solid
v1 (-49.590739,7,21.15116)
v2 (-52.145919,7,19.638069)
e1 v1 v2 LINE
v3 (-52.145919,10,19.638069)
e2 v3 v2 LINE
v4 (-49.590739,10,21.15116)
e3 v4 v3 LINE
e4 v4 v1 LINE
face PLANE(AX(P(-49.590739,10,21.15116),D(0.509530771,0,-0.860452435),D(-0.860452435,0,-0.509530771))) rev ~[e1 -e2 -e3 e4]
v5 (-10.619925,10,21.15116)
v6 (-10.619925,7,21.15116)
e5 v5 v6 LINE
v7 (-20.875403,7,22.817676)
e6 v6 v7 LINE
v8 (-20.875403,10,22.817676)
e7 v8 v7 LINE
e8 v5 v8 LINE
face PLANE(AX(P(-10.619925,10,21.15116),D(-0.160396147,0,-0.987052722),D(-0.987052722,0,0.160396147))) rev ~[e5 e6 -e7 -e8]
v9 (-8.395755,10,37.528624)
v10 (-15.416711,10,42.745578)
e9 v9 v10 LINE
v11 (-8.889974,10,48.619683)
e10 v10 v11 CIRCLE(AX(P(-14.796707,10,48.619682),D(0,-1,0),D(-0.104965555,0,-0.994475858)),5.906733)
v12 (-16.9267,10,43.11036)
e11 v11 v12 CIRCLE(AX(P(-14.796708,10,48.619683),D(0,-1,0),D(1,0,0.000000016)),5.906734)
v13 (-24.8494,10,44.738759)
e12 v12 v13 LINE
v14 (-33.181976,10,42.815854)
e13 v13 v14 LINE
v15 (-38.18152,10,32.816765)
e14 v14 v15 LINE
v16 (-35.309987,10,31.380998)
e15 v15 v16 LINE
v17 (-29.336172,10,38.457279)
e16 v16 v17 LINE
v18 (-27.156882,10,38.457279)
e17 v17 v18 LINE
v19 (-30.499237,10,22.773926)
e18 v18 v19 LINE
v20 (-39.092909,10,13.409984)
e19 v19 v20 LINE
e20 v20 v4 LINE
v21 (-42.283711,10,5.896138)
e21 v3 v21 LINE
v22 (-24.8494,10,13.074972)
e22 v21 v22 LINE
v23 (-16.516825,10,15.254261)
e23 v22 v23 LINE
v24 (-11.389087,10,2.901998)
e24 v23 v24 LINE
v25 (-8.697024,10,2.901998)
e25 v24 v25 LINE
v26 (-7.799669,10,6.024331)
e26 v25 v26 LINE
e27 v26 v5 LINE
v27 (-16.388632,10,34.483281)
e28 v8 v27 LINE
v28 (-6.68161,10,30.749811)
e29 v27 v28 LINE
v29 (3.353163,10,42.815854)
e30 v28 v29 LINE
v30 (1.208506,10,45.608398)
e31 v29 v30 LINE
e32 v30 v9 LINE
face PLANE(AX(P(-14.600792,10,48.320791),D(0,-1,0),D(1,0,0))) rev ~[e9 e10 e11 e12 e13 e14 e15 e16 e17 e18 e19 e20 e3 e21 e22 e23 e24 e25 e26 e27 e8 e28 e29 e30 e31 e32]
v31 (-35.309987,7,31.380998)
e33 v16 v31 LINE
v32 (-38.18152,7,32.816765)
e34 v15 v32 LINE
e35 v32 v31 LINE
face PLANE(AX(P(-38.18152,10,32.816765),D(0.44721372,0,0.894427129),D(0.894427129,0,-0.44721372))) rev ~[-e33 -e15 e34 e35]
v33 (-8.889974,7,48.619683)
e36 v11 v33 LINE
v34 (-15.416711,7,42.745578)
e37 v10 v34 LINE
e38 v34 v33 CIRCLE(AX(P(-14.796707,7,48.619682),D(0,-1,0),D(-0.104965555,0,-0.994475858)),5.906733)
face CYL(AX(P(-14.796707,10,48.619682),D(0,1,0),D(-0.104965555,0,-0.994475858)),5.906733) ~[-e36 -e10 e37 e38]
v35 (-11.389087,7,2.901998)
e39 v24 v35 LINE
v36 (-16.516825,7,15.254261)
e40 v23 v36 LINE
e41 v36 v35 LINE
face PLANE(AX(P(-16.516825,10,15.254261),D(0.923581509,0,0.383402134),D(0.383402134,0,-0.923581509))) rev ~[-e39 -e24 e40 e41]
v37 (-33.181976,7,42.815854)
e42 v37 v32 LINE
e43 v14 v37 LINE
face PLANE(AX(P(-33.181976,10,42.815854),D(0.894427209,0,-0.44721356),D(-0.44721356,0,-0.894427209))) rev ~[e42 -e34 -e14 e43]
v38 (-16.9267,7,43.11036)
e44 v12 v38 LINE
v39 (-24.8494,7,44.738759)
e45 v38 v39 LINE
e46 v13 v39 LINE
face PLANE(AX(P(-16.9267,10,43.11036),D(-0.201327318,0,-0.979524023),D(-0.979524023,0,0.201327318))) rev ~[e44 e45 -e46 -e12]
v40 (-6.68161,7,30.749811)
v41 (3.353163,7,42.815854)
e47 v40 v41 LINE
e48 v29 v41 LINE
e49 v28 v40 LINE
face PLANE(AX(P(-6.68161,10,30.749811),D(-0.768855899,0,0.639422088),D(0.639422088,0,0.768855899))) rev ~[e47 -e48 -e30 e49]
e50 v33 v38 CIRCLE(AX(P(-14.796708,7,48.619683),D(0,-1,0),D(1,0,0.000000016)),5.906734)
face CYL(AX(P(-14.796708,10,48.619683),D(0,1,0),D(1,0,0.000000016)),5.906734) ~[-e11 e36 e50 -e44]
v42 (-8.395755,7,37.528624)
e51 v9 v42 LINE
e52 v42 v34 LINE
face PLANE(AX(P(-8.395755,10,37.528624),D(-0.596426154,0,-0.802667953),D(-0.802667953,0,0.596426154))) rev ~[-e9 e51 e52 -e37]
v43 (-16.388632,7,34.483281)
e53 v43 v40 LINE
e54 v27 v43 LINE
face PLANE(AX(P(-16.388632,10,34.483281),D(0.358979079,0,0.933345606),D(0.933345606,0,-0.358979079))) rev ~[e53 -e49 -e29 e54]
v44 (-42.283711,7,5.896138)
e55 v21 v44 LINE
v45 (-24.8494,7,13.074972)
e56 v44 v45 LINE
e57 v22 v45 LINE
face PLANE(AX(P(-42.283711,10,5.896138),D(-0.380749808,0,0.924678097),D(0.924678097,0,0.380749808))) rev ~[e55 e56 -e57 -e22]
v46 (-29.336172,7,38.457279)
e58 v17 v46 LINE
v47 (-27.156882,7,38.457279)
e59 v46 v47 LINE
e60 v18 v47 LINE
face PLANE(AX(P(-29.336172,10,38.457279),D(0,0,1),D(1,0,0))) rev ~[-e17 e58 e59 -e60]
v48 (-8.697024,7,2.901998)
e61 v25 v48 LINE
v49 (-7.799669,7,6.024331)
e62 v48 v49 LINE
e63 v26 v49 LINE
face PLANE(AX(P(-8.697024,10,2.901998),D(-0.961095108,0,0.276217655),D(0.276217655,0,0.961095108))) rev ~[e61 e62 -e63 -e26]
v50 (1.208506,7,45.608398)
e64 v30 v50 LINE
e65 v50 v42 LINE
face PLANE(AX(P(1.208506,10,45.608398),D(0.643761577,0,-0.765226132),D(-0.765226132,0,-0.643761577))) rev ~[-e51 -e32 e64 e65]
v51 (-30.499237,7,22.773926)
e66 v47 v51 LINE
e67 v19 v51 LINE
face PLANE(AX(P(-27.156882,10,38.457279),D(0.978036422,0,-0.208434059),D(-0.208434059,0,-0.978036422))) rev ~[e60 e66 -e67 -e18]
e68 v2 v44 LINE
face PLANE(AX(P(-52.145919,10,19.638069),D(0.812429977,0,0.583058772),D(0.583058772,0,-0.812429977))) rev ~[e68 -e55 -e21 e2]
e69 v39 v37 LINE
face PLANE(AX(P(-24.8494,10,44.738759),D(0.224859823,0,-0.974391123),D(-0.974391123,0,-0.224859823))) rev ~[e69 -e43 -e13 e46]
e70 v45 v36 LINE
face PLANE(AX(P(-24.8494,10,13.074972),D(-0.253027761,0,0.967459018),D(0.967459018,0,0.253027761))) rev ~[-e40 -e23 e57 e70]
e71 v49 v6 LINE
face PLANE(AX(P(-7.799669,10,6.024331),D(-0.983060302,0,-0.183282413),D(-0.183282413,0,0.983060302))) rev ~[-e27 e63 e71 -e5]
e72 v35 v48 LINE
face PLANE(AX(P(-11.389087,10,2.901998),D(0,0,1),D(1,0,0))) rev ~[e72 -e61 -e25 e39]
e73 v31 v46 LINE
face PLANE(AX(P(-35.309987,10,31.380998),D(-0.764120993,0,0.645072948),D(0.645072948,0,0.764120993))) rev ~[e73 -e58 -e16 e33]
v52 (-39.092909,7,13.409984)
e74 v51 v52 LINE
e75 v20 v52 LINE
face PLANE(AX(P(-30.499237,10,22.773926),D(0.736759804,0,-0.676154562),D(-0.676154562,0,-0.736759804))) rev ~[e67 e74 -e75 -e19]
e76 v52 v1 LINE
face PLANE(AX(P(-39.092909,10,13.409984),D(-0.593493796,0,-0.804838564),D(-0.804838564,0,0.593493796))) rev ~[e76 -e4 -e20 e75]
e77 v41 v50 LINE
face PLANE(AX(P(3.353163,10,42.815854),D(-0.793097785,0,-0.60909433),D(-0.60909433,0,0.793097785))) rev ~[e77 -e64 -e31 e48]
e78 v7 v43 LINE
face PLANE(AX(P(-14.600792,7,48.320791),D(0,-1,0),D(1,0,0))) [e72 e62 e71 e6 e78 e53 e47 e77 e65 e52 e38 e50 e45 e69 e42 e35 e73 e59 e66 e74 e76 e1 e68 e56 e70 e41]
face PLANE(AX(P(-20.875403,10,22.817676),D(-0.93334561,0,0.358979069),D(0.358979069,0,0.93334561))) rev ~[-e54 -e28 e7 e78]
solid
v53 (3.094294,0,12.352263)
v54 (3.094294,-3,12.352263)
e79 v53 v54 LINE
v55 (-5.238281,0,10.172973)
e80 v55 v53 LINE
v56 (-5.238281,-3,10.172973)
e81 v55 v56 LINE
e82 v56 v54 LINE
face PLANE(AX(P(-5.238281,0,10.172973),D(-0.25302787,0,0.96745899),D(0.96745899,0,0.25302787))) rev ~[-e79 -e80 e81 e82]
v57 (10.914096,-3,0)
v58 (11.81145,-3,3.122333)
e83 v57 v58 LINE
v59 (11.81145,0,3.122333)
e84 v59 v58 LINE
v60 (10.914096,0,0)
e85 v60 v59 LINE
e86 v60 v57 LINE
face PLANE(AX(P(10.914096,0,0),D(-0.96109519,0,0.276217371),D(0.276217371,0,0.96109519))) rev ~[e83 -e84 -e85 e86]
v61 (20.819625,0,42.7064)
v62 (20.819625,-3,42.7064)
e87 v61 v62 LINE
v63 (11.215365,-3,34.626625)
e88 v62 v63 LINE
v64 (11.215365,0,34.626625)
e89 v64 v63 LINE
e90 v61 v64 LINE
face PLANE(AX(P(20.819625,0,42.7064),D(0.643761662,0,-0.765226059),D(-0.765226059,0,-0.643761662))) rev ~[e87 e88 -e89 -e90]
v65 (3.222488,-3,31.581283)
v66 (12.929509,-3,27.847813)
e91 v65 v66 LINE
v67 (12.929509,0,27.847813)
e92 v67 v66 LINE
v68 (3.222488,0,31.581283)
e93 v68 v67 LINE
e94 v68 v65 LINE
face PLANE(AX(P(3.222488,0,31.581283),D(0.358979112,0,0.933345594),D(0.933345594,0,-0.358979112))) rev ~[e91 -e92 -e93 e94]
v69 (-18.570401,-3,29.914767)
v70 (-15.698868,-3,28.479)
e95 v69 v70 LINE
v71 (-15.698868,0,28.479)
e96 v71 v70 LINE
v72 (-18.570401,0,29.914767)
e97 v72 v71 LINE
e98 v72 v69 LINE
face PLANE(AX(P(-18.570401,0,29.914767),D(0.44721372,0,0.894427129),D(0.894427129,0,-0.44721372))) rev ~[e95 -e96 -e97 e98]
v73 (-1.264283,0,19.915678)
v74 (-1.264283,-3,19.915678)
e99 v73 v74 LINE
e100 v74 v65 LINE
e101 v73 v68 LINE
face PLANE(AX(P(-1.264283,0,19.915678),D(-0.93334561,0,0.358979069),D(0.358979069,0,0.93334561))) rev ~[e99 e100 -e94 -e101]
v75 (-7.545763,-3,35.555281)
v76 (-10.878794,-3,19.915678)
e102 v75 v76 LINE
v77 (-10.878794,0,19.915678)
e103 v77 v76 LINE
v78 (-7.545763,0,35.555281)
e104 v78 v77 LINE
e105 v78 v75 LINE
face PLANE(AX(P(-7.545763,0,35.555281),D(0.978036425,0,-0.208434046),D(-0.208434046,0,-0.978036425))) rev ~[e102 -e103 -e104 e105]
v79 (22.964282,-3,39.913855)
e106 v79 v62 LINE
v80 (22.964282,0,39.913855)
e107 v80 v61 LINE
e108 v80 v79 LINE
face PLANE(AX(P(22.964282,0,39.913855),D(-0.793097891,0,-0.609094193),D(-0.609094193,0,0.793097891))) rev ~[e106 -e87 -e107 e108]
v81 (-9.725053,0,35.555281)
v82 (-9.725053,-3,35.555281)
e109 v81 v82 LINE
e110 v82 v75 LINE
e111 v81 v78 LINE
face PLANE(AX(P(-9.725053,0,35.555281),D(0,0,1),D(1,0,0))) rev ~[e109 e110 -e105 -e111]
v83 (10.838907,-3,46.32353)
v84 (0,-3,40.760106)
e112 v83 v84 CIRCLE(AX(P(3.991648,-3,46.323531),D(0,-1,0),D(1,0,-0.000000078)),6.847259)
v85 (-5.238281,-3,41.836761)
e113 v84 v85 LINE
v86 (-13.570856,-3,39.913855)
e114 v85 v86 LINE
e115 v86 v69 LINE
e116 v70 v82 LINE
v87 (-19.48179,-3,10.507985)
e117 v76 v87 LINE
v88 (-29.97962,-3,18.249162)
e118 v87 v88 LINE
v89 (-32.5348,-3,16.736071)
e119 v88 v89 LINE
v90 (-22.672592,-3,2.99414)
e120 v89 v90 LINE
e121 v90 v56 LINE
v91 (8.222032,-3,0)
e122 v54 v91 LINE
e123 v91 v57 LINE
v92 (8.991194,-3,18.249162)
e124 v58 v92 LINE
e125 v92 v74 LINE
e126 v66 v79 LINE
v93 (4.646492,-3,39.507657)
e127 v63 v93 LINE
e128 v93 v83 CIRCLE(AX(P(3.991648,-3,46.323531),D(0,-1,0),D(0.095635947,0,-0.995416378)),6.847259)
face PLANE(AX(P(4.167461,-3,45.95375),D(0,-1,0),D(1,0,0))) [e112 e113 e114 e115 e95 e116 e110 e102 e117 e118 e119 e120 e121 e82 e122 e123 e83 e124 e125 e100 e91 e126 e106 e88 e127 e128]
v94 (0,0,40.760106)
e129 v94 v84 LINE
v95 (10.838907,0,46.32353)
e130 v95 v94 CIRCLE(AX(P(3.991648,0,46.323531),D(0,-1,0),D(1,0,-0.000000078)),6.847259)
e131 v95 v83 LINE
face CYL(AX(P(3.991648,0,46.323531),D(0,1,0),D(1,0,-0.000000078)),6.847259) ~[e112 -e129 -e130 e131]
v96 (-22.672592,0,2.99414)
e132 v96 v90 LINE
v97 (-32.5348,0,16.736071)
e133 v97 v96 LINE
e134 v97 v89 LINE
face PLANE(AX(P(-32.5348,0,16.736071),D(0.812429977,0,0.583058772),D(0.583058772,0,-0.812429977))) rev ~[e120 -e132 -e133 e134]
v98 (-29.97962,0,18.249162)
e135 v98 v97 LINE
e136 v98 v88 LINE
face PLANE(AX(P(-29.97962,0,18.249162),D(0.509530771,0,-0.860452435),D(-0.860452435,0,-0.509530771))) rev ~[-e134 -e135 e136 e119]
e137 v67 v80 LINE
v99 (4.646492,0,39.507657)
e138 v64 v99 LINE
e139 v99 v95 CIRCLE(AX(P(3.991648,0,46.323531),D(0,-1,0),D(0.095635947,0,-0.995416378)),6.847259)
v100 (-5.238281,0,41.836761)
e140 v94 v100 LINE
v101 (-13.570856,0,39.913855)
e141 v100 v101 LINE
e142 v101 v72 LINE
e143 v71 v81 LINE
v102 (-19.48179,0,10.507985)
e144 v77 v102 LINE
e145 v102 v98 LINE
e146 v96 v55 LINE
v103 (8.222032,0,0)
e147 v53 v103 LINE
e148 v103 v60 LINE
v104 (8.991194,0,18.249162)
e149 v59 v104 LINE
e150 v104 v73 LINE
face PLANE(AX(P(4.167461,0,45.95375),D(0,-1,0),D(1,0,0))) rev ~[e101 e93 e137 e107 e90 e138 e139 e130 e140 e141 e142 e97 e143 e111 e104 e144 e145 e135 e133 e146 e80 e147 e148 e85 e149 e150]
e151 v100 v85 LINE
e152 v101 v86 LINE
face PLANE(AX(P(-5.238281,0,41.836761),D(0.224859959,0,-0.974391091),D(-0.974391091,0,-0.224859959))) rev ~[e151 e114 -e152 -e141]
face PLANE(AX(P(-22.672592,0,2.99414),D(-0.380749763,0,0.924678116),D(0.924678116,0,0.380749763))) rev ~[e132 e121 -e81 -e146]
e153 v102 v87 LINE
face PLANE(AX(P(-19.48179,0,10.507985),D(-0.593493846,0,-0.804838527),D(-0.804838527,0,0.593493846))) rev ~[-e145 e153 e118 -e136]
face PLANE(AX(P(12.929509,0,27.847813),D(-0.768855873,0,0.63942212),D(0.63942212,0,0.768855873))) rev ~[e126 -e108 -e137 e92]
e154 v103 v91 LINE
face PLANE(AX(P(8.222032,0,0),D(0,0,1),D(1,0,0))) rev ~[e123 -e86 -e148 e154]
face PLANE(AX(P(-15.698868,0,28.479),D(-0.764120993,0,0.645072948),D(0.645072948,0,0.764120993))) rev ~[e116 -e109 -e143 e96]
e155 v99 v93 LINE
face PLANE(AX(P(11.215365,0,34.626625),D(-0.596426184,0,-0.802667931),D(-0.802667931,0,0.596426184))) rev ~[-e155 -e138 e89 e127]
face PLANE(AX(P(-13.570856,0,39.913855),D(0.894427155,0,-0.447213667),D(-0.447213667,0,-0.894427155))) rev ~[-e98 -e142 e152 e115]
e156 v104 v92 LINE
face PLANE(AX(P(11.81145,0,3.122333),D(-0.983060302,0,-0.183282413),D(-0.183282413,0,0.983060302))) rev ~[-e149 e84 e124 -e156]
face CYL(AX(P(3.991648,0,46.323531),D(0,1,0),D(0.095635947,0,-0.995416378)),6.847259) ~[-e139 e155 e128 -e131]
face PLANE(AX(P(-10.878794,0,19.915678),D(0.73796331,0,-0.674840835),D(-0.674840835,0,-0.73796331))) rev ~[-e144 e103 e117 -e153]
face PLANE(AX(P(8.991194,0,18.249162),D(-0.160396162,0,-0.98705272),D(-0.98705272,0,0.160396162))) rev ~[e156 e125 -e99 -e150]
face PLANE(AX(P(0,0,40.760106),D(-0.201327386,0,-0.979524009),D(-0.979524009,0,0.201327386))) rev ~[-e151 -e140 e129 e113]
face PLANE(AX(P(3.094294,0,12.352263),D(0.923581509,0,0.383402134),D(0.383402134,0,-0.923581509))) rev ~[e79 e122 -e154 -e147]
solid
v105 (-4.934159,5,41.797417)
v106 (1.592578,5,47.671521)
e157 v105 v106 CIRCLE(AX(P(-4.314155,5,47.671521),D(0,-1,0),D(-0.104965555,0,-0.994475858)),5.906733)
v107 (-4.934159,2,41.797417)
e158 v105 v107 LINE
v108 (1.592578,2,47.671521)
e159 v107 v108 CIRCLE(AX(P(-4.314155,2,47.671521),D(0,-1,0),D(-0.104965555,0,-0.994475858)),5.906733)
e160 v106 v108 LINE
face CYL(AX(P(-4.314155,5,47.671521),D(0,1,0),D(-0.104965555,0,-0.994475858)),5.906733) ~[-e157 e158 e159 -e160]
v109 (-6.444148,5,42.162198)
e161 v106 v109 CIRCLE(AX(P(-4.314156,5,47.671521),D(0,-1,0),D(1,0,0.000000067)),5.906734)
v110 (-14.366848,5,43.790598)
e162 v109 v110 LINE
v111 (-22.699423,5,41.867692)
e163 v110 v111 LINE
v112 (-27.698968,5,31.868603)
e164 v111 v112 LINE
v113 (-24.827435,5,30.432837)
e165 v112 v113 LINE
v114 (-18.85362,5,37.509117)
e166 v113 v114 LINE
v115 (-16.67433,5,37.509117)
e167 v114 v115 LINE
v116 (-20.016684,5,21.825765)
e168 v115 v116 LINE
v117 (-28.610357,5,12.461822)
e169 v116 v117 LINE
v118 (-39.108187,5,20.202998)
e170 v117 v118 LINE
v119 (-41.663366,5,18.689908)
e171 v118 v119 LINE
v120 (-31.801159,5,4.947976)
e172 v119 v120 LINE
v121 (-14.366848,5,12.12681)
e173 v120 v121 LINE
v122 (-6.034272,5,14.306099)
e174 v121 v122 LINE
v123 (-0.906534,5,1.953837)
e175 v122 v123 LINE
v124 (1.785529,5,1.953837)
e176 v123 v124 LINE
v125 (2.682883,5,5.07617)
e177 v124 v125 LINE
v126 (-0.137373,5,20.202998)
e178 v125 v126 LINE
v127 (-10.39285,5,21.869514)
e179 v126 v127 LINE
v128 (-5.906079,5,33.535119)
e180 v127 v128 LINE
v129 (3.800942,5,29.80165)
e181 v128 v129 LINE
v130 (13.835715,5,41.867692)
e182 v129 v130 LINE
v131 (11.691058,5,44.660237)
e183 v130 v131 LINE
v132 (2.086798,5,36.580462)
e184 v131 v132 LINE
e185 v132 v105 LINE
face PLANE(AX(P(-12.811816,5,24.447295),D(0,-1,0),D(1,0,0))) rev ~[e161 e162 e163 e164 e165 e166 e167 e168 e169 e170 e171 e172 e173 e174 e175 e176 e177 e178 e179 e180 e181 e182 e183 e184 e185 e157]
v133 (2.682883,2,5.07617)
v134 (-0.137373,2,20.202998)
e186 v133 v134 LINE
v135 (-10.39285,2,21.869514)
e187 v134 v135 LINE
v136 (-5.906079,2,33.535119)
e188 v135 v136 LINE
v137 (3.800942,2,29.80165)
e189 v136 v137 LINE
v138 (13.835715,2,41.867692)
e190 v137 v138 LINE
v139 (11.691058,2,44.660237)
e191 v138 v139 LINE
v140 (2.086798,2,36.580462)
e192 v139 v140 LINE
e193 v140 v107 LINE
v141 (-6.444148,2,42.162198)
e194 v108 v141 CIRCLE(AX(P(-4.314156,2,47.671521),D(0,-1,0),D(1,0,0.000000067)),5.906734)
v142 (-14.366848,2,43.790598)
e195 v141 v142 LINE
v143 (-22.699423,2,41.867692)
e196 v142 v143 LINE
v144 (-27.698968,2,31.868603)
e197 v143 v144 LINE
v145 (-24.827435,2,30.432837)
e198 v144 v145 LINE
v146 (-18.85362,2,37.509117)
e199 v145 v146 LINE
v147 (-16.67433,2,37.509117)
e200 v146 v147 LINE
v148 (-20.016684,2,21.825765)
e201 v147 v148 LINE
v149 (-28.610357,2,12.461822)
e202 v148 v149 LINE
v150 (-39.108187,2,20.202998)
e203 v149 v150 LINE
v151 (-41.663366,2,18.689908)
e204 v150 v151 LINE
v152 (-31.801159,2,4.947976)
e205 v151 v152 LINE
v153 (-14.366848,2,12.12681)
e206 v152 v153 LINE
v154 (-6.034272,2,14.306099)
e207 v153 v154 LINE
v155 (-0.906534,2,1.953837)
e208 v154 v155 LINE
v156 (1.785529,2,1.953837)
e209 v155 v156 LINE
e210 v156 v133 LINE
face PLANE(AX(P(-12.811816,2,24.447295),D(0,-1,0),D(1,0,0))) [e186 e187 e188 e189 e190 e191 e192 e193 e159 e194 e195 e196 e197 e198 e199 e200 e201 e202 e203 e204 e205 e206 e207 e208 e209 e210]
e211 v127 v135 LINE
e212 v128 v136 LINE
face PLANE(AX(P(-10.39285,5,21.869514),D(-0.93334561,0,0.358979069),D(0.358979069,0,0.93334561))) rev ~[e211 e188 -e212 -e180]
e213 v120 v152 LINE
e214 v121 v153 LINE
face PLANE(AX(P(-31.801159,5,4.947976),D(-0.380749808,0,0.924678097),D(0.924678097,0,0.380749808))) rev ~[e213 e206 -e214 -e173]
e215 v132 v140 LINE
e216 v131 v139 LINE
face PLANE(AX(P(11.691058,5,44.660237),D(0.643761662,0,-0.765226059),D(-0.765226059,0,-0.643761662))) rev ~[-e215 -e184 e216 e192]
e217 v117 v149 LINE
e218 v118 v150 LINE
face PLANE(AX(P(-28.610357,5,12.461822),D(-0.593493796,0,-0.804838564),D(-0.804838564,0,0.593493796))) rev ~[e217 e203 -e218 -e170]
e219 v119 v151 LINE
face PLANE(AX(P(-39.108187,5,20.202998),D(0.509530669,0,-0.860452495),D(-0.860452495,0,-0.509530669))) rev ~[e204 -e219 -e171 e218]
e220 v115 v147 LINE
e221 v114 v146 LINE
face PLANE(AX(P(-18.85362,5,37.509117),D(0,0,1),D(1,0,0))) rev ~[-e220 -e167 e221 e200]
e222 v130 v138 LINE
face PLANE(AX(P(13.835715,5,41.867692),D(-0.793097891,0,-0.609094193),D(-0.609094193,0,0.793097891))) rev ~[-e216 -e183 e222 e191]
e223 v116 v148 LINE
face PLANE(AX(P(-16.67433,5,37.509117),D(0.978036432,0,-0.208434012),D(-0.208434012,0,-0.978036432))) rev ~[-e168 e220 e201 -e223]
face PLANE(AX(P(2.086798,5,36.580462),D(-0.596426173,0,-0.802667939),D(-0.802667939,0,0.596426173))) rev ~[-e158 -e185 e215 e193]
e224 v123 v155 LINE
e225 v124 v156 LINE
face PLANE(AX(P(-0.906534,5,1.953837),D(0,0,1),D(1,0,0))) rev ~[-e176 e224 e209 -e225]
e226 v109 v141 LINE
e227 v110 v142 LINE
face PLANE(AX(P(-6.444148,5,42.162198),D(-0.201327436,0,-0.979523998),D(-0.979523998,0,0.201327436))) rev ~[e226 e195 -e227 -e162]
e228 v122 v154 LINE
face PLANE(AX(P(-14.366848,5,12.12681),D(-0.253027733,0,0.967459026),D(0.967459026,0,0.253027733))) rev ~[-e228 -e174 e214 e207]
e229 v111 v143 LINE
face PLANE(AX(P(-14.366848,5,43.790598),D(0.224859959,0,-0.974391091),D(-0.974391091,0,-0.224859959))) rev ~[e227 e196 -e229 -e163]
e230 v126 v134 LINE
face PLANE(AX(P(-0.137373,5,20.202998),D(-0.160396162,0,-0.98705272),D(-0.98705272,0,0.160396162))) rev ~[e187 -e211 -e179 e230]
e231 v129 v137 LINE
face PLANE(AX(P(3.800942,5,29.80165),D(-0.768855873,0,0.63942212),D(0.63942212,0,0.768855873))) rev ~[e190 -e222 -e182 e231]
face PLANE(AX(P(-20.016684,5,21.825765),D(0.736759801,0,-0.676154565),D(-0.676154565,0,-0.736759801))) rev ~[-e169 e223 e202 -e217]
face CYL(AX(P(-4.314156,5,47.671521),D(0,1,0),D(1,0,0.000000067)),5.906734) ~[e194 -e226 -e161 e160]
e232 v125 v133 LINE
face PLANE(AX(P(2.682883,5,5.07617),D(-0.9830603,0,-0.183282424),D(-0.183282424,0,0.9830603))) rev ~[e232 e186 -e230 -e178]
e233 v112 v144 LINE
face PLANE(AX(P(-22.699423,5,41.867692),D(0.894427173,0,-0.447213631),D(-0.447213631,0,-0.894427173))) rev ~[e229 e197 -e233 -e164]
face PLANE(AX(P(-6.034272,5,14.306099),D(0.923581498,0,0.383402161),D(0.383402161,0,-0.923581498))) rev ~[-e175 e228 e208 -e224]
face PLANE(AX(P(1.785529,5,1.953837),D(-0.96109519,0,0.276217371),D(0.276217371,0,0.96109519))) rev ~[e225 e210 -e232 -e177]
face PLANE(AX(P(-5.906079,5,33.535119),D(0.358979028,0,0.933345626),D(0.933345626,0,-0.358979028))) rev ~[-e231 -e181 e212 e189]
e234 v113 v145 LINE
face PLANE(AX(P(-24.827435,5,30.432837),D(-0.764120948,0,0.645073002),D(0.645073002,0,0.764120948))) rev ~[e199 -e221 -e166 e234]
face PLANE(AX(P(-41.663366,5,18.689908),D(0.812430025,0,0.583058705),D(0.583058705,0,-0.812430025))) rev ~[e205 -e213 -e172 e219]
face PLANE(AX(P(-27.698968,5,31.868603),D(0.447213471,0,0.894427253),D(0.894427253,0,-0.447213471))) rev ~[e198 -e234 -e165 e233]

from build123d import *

# Parameters (mm, degrees)
F1_DEPTH = 3
F4_DEPTH = 3
F7_DEPTH = 3


with BuildPart() as f1:
    # F0 (on Front) → F1 (new body)
    with BuildSketch(Plane.XZ):
        with BuildLine():
            ThreePointArc((4.646492, 39.507657), (9.059628, 41.719127), (10.838907, 46.32353))
            ThreePointArc((10.838907, 46.32353), (0.864901, 52.415197), (0, 40.760106))
            ThreePointArc((0, 40.760106), (2.209592, 39.712235), (4.646492, 39.507657))
        make_face()
        with BuildLine():
            ThreePointArc((4.646492, 39.507657), (2.209592, 39.712235), (0, 40.760106))
            Line((0, 40.760106), (-5.238281, 41.836761))
            Line((-5.238281, 41.836761), (-13.570856, 39.913855))
            Line((-13.570856, 39.913855), (-18.570401, 29.914767))
            Line((-18.570401, 29.914767), (-15.698868, 28.479))
            Line((-15.698868, 28.479), (-9.725053, 35.555281))
            Line((-9.725053, 35.555281), (-7.545763, 35.555281))
            Line((-7.545763, 35.555281), (-10.878794, 19.915678))
            Line((-10.878794, 19.915678), (-19.48179, 10.507985))
            Line((-19.48179, 10.507985), (-29.97962, 18.249162))
            Line((-29.97962, 18.249162), (-32.5348, 16.736071))
            Line((-32.5348, 16.736071), (-22.672592, 2.99414))
            Line((-22.672592, 2.99414), (-5.238281, 10.172973))
            Line((-5.238281, 10.172973), (3.094294, 12.352263))
            Line((3.094294, 12.352263), (8.222032, 0))
            Line((8.222032, 0), (10.914096, 0))
            Line((10.914096, 0), (11.81145, 3.122333))
            Line((11.81145, 3.122333), (8.991194, 18.249162))
            Line((8.991194, 18.249162), (-1.264283, 19.915678))
            Line((-1.264283, 19.915678), (3.222488, 31.581283))
            Line((3.222488, 31.581283), (12.929509, 27.847813))
            Line((12.929509, 27.847813), (22.964282, 39.913855))
            Line((22.964282, 39.913855), (20.819625, 42.7064))
            Line((20.819625, 42.7064), (11.215365, 34.626625))
            Line((11.215365, 34.626625), (4.646492, 39.507657))
        make_face()
    extrude(amount=F1_DEPTH)


with BuildPart() as f4:
    # F3 (on offset) → F4 (new body)
    with BuildSketch(Plane.XZ.offset(-5)):
        with BuildLine():
            ThreePointArc((-4.934159, 41.797417), (-5.701197, 41.929952), (-6.444148, 42.162198))
            Line((-6.444148, 42.162198), (-14.366848, 43.790598))
            Line((-14.366848, 43.790598), (-22.699423, 41.867692))
            Line((-22.699423, 41.867692), (-27.698968, 31.868603))
            Line((-27.698968, 31.868603), (-24.827435, 30.432837))
            Line((-24.827435, 30.432837), (-18.85362, 37.509117))
            Line((-18.85362, 37.509117), (-16.67433, 37.509117))
            Line((-16.67433, 37.509117), (-20.016684, 21.825765))
            Line((-20.016684, 21.825765), (-28.610357, 12.461822))
            Line((-28.610357, 12.461822), (-39.108187, 20.202998))
            Line((-39.108187, 20.202998), (-41.663366, 18.689908))
            Line((-41.663366, 18.689908), (-31.801159, 4.947976))
            Line((-31.801159, 4.947976), (-14.366848, 12.12681))
            Line((-14.366848, 12.12681), (-6.034272, 14.306099))
            Line((-6.034272, 14.306099), (-0.906534, 1.953837))
            Line((-0.906534, 1.953837), (1.785529, 1.953837))
            Line((1.785529, 1.953837), (2.682883, 5.07617))
            Line((2.682883, 5.07617), (-0.137373, 20.202998))
            Line((-0.137373, 20.202998), (-10.39285, 21.869514))
            Line((-10.39285, 21.869514), (-5.906079, 33.535119))
            Line((-5.906079, 33.535119), (3.800942, 29.80165))
            Line((3.800942, 29.80165), (13.835715, 41.867692))
            Line((13.835715, 41.867692), (11.691058, 44.660237))
            Line((11.691058, 44.660237), (2.086798, 36.580462))
            Line((2.086798, 36.580462), (-4.934159, 41.797417))
        make_face()
        with BuildLine():
            ThreePointArc((-4.934159, 41.797417), (-0.362744, 43.281094), (1.592578, 47.671521))
            ThreePointArc((1.592578, 47.671521), (-7.653931, 52.54342), (-6.444148, 42.162198))
            ThreePointArc((-6.444148, 42.162198), (-5.701197, 41.929952), (-4.934159, 41.797417))
        make_face()
    extrude(amount=F4_DEPTH)


with BuildPart() as f7:
    # F6 (on offset) → F7 (new body)
    with BuildSketch(Plane.XZ.offset(-10)):
        with BuildLine():
            ThreePointArc((-15.416711, 42.745578), (-10.845296, 44.229255), (-8.889974, 48.619683))
            ThreePointArc((-8.889974, 48.619683), (-18.136484, 53.491582), (-16.9267, 43.11036))
            ThreePointArc((-16.9267, 43.11036), (-16.18375, 42.878113), (-15.416711, 42.745578))
        make_face()
        with BuildLine():
            ThreePointArc((-15.416711, 42.745578), (-16.18375, 42.878113), (-16.9267, 43.11036))
            Line((-16.9267, 43.11036), (-24.8494, 44.738759))
            Line((-24.8494, 44.738759), (-33.181976, 42.815854))
            Line((-33.181976, 42.815854), (-38.18152, 32.816765))
            Line((-38.18152, 32.816765), (-35.309987, 31.380998))
            Line((-35.309987, 31.380998), (-29.336172, 38.457279))
            Line((-29.336172, 38.457279), (-27.156882, 38.457279))
            Line((-27.156882, 38.457279), (-30.499237, 22.773926))
            Line((-30.499237, 22.773926), (-39.092909, 13.409984))
            Line((-39.092909, 13.409984), (-49.590739, 21.15116))
            Line((-49.590739, 21.15116), (-52.145919, 19.638069))
            Line((-52.145919, 19.638069), (-42.283711, 5.896138))
            Line((-42.283711, 5.896138), (-24.8494, 13.074972))
            Line((-24.8494, 13.074972), (-16.516825, 15.254261))
            Line((-16.516825, 15.254261), (-11.389087, 2.901998))
            Line((-11.389087, 2.901998), (-8.697024, 2.901998))
            Line((-8.697024, 2.901998), (-7.799669, 6.024331))
            Line((-7.799669, 6.024331), (-10.619925, 21.15116))
            Line((-10.619925, 21.15116), (-20.875403, 22.817676))
            Line((-20.875403, 22.817676), (-16.388632, 34.483281))
            Line((-16.388632, 34.483281), (-6.68161, 30.749811))
            Line((-6.68161, 30.749811), (3.353163, 42.815854))
            Line((3.353163, 42.815854), (1.208506, 45.608398))
            Line((1.208506, 45.608398), (-8.395755, 37.528624))
            Line((-8.395755, 37.528624), (-15.416711, 42.745578))
        make_face()
    extrude(amount=F7_DEPTH)


solid = Compound([f1.part, f4.part, f7.part])
